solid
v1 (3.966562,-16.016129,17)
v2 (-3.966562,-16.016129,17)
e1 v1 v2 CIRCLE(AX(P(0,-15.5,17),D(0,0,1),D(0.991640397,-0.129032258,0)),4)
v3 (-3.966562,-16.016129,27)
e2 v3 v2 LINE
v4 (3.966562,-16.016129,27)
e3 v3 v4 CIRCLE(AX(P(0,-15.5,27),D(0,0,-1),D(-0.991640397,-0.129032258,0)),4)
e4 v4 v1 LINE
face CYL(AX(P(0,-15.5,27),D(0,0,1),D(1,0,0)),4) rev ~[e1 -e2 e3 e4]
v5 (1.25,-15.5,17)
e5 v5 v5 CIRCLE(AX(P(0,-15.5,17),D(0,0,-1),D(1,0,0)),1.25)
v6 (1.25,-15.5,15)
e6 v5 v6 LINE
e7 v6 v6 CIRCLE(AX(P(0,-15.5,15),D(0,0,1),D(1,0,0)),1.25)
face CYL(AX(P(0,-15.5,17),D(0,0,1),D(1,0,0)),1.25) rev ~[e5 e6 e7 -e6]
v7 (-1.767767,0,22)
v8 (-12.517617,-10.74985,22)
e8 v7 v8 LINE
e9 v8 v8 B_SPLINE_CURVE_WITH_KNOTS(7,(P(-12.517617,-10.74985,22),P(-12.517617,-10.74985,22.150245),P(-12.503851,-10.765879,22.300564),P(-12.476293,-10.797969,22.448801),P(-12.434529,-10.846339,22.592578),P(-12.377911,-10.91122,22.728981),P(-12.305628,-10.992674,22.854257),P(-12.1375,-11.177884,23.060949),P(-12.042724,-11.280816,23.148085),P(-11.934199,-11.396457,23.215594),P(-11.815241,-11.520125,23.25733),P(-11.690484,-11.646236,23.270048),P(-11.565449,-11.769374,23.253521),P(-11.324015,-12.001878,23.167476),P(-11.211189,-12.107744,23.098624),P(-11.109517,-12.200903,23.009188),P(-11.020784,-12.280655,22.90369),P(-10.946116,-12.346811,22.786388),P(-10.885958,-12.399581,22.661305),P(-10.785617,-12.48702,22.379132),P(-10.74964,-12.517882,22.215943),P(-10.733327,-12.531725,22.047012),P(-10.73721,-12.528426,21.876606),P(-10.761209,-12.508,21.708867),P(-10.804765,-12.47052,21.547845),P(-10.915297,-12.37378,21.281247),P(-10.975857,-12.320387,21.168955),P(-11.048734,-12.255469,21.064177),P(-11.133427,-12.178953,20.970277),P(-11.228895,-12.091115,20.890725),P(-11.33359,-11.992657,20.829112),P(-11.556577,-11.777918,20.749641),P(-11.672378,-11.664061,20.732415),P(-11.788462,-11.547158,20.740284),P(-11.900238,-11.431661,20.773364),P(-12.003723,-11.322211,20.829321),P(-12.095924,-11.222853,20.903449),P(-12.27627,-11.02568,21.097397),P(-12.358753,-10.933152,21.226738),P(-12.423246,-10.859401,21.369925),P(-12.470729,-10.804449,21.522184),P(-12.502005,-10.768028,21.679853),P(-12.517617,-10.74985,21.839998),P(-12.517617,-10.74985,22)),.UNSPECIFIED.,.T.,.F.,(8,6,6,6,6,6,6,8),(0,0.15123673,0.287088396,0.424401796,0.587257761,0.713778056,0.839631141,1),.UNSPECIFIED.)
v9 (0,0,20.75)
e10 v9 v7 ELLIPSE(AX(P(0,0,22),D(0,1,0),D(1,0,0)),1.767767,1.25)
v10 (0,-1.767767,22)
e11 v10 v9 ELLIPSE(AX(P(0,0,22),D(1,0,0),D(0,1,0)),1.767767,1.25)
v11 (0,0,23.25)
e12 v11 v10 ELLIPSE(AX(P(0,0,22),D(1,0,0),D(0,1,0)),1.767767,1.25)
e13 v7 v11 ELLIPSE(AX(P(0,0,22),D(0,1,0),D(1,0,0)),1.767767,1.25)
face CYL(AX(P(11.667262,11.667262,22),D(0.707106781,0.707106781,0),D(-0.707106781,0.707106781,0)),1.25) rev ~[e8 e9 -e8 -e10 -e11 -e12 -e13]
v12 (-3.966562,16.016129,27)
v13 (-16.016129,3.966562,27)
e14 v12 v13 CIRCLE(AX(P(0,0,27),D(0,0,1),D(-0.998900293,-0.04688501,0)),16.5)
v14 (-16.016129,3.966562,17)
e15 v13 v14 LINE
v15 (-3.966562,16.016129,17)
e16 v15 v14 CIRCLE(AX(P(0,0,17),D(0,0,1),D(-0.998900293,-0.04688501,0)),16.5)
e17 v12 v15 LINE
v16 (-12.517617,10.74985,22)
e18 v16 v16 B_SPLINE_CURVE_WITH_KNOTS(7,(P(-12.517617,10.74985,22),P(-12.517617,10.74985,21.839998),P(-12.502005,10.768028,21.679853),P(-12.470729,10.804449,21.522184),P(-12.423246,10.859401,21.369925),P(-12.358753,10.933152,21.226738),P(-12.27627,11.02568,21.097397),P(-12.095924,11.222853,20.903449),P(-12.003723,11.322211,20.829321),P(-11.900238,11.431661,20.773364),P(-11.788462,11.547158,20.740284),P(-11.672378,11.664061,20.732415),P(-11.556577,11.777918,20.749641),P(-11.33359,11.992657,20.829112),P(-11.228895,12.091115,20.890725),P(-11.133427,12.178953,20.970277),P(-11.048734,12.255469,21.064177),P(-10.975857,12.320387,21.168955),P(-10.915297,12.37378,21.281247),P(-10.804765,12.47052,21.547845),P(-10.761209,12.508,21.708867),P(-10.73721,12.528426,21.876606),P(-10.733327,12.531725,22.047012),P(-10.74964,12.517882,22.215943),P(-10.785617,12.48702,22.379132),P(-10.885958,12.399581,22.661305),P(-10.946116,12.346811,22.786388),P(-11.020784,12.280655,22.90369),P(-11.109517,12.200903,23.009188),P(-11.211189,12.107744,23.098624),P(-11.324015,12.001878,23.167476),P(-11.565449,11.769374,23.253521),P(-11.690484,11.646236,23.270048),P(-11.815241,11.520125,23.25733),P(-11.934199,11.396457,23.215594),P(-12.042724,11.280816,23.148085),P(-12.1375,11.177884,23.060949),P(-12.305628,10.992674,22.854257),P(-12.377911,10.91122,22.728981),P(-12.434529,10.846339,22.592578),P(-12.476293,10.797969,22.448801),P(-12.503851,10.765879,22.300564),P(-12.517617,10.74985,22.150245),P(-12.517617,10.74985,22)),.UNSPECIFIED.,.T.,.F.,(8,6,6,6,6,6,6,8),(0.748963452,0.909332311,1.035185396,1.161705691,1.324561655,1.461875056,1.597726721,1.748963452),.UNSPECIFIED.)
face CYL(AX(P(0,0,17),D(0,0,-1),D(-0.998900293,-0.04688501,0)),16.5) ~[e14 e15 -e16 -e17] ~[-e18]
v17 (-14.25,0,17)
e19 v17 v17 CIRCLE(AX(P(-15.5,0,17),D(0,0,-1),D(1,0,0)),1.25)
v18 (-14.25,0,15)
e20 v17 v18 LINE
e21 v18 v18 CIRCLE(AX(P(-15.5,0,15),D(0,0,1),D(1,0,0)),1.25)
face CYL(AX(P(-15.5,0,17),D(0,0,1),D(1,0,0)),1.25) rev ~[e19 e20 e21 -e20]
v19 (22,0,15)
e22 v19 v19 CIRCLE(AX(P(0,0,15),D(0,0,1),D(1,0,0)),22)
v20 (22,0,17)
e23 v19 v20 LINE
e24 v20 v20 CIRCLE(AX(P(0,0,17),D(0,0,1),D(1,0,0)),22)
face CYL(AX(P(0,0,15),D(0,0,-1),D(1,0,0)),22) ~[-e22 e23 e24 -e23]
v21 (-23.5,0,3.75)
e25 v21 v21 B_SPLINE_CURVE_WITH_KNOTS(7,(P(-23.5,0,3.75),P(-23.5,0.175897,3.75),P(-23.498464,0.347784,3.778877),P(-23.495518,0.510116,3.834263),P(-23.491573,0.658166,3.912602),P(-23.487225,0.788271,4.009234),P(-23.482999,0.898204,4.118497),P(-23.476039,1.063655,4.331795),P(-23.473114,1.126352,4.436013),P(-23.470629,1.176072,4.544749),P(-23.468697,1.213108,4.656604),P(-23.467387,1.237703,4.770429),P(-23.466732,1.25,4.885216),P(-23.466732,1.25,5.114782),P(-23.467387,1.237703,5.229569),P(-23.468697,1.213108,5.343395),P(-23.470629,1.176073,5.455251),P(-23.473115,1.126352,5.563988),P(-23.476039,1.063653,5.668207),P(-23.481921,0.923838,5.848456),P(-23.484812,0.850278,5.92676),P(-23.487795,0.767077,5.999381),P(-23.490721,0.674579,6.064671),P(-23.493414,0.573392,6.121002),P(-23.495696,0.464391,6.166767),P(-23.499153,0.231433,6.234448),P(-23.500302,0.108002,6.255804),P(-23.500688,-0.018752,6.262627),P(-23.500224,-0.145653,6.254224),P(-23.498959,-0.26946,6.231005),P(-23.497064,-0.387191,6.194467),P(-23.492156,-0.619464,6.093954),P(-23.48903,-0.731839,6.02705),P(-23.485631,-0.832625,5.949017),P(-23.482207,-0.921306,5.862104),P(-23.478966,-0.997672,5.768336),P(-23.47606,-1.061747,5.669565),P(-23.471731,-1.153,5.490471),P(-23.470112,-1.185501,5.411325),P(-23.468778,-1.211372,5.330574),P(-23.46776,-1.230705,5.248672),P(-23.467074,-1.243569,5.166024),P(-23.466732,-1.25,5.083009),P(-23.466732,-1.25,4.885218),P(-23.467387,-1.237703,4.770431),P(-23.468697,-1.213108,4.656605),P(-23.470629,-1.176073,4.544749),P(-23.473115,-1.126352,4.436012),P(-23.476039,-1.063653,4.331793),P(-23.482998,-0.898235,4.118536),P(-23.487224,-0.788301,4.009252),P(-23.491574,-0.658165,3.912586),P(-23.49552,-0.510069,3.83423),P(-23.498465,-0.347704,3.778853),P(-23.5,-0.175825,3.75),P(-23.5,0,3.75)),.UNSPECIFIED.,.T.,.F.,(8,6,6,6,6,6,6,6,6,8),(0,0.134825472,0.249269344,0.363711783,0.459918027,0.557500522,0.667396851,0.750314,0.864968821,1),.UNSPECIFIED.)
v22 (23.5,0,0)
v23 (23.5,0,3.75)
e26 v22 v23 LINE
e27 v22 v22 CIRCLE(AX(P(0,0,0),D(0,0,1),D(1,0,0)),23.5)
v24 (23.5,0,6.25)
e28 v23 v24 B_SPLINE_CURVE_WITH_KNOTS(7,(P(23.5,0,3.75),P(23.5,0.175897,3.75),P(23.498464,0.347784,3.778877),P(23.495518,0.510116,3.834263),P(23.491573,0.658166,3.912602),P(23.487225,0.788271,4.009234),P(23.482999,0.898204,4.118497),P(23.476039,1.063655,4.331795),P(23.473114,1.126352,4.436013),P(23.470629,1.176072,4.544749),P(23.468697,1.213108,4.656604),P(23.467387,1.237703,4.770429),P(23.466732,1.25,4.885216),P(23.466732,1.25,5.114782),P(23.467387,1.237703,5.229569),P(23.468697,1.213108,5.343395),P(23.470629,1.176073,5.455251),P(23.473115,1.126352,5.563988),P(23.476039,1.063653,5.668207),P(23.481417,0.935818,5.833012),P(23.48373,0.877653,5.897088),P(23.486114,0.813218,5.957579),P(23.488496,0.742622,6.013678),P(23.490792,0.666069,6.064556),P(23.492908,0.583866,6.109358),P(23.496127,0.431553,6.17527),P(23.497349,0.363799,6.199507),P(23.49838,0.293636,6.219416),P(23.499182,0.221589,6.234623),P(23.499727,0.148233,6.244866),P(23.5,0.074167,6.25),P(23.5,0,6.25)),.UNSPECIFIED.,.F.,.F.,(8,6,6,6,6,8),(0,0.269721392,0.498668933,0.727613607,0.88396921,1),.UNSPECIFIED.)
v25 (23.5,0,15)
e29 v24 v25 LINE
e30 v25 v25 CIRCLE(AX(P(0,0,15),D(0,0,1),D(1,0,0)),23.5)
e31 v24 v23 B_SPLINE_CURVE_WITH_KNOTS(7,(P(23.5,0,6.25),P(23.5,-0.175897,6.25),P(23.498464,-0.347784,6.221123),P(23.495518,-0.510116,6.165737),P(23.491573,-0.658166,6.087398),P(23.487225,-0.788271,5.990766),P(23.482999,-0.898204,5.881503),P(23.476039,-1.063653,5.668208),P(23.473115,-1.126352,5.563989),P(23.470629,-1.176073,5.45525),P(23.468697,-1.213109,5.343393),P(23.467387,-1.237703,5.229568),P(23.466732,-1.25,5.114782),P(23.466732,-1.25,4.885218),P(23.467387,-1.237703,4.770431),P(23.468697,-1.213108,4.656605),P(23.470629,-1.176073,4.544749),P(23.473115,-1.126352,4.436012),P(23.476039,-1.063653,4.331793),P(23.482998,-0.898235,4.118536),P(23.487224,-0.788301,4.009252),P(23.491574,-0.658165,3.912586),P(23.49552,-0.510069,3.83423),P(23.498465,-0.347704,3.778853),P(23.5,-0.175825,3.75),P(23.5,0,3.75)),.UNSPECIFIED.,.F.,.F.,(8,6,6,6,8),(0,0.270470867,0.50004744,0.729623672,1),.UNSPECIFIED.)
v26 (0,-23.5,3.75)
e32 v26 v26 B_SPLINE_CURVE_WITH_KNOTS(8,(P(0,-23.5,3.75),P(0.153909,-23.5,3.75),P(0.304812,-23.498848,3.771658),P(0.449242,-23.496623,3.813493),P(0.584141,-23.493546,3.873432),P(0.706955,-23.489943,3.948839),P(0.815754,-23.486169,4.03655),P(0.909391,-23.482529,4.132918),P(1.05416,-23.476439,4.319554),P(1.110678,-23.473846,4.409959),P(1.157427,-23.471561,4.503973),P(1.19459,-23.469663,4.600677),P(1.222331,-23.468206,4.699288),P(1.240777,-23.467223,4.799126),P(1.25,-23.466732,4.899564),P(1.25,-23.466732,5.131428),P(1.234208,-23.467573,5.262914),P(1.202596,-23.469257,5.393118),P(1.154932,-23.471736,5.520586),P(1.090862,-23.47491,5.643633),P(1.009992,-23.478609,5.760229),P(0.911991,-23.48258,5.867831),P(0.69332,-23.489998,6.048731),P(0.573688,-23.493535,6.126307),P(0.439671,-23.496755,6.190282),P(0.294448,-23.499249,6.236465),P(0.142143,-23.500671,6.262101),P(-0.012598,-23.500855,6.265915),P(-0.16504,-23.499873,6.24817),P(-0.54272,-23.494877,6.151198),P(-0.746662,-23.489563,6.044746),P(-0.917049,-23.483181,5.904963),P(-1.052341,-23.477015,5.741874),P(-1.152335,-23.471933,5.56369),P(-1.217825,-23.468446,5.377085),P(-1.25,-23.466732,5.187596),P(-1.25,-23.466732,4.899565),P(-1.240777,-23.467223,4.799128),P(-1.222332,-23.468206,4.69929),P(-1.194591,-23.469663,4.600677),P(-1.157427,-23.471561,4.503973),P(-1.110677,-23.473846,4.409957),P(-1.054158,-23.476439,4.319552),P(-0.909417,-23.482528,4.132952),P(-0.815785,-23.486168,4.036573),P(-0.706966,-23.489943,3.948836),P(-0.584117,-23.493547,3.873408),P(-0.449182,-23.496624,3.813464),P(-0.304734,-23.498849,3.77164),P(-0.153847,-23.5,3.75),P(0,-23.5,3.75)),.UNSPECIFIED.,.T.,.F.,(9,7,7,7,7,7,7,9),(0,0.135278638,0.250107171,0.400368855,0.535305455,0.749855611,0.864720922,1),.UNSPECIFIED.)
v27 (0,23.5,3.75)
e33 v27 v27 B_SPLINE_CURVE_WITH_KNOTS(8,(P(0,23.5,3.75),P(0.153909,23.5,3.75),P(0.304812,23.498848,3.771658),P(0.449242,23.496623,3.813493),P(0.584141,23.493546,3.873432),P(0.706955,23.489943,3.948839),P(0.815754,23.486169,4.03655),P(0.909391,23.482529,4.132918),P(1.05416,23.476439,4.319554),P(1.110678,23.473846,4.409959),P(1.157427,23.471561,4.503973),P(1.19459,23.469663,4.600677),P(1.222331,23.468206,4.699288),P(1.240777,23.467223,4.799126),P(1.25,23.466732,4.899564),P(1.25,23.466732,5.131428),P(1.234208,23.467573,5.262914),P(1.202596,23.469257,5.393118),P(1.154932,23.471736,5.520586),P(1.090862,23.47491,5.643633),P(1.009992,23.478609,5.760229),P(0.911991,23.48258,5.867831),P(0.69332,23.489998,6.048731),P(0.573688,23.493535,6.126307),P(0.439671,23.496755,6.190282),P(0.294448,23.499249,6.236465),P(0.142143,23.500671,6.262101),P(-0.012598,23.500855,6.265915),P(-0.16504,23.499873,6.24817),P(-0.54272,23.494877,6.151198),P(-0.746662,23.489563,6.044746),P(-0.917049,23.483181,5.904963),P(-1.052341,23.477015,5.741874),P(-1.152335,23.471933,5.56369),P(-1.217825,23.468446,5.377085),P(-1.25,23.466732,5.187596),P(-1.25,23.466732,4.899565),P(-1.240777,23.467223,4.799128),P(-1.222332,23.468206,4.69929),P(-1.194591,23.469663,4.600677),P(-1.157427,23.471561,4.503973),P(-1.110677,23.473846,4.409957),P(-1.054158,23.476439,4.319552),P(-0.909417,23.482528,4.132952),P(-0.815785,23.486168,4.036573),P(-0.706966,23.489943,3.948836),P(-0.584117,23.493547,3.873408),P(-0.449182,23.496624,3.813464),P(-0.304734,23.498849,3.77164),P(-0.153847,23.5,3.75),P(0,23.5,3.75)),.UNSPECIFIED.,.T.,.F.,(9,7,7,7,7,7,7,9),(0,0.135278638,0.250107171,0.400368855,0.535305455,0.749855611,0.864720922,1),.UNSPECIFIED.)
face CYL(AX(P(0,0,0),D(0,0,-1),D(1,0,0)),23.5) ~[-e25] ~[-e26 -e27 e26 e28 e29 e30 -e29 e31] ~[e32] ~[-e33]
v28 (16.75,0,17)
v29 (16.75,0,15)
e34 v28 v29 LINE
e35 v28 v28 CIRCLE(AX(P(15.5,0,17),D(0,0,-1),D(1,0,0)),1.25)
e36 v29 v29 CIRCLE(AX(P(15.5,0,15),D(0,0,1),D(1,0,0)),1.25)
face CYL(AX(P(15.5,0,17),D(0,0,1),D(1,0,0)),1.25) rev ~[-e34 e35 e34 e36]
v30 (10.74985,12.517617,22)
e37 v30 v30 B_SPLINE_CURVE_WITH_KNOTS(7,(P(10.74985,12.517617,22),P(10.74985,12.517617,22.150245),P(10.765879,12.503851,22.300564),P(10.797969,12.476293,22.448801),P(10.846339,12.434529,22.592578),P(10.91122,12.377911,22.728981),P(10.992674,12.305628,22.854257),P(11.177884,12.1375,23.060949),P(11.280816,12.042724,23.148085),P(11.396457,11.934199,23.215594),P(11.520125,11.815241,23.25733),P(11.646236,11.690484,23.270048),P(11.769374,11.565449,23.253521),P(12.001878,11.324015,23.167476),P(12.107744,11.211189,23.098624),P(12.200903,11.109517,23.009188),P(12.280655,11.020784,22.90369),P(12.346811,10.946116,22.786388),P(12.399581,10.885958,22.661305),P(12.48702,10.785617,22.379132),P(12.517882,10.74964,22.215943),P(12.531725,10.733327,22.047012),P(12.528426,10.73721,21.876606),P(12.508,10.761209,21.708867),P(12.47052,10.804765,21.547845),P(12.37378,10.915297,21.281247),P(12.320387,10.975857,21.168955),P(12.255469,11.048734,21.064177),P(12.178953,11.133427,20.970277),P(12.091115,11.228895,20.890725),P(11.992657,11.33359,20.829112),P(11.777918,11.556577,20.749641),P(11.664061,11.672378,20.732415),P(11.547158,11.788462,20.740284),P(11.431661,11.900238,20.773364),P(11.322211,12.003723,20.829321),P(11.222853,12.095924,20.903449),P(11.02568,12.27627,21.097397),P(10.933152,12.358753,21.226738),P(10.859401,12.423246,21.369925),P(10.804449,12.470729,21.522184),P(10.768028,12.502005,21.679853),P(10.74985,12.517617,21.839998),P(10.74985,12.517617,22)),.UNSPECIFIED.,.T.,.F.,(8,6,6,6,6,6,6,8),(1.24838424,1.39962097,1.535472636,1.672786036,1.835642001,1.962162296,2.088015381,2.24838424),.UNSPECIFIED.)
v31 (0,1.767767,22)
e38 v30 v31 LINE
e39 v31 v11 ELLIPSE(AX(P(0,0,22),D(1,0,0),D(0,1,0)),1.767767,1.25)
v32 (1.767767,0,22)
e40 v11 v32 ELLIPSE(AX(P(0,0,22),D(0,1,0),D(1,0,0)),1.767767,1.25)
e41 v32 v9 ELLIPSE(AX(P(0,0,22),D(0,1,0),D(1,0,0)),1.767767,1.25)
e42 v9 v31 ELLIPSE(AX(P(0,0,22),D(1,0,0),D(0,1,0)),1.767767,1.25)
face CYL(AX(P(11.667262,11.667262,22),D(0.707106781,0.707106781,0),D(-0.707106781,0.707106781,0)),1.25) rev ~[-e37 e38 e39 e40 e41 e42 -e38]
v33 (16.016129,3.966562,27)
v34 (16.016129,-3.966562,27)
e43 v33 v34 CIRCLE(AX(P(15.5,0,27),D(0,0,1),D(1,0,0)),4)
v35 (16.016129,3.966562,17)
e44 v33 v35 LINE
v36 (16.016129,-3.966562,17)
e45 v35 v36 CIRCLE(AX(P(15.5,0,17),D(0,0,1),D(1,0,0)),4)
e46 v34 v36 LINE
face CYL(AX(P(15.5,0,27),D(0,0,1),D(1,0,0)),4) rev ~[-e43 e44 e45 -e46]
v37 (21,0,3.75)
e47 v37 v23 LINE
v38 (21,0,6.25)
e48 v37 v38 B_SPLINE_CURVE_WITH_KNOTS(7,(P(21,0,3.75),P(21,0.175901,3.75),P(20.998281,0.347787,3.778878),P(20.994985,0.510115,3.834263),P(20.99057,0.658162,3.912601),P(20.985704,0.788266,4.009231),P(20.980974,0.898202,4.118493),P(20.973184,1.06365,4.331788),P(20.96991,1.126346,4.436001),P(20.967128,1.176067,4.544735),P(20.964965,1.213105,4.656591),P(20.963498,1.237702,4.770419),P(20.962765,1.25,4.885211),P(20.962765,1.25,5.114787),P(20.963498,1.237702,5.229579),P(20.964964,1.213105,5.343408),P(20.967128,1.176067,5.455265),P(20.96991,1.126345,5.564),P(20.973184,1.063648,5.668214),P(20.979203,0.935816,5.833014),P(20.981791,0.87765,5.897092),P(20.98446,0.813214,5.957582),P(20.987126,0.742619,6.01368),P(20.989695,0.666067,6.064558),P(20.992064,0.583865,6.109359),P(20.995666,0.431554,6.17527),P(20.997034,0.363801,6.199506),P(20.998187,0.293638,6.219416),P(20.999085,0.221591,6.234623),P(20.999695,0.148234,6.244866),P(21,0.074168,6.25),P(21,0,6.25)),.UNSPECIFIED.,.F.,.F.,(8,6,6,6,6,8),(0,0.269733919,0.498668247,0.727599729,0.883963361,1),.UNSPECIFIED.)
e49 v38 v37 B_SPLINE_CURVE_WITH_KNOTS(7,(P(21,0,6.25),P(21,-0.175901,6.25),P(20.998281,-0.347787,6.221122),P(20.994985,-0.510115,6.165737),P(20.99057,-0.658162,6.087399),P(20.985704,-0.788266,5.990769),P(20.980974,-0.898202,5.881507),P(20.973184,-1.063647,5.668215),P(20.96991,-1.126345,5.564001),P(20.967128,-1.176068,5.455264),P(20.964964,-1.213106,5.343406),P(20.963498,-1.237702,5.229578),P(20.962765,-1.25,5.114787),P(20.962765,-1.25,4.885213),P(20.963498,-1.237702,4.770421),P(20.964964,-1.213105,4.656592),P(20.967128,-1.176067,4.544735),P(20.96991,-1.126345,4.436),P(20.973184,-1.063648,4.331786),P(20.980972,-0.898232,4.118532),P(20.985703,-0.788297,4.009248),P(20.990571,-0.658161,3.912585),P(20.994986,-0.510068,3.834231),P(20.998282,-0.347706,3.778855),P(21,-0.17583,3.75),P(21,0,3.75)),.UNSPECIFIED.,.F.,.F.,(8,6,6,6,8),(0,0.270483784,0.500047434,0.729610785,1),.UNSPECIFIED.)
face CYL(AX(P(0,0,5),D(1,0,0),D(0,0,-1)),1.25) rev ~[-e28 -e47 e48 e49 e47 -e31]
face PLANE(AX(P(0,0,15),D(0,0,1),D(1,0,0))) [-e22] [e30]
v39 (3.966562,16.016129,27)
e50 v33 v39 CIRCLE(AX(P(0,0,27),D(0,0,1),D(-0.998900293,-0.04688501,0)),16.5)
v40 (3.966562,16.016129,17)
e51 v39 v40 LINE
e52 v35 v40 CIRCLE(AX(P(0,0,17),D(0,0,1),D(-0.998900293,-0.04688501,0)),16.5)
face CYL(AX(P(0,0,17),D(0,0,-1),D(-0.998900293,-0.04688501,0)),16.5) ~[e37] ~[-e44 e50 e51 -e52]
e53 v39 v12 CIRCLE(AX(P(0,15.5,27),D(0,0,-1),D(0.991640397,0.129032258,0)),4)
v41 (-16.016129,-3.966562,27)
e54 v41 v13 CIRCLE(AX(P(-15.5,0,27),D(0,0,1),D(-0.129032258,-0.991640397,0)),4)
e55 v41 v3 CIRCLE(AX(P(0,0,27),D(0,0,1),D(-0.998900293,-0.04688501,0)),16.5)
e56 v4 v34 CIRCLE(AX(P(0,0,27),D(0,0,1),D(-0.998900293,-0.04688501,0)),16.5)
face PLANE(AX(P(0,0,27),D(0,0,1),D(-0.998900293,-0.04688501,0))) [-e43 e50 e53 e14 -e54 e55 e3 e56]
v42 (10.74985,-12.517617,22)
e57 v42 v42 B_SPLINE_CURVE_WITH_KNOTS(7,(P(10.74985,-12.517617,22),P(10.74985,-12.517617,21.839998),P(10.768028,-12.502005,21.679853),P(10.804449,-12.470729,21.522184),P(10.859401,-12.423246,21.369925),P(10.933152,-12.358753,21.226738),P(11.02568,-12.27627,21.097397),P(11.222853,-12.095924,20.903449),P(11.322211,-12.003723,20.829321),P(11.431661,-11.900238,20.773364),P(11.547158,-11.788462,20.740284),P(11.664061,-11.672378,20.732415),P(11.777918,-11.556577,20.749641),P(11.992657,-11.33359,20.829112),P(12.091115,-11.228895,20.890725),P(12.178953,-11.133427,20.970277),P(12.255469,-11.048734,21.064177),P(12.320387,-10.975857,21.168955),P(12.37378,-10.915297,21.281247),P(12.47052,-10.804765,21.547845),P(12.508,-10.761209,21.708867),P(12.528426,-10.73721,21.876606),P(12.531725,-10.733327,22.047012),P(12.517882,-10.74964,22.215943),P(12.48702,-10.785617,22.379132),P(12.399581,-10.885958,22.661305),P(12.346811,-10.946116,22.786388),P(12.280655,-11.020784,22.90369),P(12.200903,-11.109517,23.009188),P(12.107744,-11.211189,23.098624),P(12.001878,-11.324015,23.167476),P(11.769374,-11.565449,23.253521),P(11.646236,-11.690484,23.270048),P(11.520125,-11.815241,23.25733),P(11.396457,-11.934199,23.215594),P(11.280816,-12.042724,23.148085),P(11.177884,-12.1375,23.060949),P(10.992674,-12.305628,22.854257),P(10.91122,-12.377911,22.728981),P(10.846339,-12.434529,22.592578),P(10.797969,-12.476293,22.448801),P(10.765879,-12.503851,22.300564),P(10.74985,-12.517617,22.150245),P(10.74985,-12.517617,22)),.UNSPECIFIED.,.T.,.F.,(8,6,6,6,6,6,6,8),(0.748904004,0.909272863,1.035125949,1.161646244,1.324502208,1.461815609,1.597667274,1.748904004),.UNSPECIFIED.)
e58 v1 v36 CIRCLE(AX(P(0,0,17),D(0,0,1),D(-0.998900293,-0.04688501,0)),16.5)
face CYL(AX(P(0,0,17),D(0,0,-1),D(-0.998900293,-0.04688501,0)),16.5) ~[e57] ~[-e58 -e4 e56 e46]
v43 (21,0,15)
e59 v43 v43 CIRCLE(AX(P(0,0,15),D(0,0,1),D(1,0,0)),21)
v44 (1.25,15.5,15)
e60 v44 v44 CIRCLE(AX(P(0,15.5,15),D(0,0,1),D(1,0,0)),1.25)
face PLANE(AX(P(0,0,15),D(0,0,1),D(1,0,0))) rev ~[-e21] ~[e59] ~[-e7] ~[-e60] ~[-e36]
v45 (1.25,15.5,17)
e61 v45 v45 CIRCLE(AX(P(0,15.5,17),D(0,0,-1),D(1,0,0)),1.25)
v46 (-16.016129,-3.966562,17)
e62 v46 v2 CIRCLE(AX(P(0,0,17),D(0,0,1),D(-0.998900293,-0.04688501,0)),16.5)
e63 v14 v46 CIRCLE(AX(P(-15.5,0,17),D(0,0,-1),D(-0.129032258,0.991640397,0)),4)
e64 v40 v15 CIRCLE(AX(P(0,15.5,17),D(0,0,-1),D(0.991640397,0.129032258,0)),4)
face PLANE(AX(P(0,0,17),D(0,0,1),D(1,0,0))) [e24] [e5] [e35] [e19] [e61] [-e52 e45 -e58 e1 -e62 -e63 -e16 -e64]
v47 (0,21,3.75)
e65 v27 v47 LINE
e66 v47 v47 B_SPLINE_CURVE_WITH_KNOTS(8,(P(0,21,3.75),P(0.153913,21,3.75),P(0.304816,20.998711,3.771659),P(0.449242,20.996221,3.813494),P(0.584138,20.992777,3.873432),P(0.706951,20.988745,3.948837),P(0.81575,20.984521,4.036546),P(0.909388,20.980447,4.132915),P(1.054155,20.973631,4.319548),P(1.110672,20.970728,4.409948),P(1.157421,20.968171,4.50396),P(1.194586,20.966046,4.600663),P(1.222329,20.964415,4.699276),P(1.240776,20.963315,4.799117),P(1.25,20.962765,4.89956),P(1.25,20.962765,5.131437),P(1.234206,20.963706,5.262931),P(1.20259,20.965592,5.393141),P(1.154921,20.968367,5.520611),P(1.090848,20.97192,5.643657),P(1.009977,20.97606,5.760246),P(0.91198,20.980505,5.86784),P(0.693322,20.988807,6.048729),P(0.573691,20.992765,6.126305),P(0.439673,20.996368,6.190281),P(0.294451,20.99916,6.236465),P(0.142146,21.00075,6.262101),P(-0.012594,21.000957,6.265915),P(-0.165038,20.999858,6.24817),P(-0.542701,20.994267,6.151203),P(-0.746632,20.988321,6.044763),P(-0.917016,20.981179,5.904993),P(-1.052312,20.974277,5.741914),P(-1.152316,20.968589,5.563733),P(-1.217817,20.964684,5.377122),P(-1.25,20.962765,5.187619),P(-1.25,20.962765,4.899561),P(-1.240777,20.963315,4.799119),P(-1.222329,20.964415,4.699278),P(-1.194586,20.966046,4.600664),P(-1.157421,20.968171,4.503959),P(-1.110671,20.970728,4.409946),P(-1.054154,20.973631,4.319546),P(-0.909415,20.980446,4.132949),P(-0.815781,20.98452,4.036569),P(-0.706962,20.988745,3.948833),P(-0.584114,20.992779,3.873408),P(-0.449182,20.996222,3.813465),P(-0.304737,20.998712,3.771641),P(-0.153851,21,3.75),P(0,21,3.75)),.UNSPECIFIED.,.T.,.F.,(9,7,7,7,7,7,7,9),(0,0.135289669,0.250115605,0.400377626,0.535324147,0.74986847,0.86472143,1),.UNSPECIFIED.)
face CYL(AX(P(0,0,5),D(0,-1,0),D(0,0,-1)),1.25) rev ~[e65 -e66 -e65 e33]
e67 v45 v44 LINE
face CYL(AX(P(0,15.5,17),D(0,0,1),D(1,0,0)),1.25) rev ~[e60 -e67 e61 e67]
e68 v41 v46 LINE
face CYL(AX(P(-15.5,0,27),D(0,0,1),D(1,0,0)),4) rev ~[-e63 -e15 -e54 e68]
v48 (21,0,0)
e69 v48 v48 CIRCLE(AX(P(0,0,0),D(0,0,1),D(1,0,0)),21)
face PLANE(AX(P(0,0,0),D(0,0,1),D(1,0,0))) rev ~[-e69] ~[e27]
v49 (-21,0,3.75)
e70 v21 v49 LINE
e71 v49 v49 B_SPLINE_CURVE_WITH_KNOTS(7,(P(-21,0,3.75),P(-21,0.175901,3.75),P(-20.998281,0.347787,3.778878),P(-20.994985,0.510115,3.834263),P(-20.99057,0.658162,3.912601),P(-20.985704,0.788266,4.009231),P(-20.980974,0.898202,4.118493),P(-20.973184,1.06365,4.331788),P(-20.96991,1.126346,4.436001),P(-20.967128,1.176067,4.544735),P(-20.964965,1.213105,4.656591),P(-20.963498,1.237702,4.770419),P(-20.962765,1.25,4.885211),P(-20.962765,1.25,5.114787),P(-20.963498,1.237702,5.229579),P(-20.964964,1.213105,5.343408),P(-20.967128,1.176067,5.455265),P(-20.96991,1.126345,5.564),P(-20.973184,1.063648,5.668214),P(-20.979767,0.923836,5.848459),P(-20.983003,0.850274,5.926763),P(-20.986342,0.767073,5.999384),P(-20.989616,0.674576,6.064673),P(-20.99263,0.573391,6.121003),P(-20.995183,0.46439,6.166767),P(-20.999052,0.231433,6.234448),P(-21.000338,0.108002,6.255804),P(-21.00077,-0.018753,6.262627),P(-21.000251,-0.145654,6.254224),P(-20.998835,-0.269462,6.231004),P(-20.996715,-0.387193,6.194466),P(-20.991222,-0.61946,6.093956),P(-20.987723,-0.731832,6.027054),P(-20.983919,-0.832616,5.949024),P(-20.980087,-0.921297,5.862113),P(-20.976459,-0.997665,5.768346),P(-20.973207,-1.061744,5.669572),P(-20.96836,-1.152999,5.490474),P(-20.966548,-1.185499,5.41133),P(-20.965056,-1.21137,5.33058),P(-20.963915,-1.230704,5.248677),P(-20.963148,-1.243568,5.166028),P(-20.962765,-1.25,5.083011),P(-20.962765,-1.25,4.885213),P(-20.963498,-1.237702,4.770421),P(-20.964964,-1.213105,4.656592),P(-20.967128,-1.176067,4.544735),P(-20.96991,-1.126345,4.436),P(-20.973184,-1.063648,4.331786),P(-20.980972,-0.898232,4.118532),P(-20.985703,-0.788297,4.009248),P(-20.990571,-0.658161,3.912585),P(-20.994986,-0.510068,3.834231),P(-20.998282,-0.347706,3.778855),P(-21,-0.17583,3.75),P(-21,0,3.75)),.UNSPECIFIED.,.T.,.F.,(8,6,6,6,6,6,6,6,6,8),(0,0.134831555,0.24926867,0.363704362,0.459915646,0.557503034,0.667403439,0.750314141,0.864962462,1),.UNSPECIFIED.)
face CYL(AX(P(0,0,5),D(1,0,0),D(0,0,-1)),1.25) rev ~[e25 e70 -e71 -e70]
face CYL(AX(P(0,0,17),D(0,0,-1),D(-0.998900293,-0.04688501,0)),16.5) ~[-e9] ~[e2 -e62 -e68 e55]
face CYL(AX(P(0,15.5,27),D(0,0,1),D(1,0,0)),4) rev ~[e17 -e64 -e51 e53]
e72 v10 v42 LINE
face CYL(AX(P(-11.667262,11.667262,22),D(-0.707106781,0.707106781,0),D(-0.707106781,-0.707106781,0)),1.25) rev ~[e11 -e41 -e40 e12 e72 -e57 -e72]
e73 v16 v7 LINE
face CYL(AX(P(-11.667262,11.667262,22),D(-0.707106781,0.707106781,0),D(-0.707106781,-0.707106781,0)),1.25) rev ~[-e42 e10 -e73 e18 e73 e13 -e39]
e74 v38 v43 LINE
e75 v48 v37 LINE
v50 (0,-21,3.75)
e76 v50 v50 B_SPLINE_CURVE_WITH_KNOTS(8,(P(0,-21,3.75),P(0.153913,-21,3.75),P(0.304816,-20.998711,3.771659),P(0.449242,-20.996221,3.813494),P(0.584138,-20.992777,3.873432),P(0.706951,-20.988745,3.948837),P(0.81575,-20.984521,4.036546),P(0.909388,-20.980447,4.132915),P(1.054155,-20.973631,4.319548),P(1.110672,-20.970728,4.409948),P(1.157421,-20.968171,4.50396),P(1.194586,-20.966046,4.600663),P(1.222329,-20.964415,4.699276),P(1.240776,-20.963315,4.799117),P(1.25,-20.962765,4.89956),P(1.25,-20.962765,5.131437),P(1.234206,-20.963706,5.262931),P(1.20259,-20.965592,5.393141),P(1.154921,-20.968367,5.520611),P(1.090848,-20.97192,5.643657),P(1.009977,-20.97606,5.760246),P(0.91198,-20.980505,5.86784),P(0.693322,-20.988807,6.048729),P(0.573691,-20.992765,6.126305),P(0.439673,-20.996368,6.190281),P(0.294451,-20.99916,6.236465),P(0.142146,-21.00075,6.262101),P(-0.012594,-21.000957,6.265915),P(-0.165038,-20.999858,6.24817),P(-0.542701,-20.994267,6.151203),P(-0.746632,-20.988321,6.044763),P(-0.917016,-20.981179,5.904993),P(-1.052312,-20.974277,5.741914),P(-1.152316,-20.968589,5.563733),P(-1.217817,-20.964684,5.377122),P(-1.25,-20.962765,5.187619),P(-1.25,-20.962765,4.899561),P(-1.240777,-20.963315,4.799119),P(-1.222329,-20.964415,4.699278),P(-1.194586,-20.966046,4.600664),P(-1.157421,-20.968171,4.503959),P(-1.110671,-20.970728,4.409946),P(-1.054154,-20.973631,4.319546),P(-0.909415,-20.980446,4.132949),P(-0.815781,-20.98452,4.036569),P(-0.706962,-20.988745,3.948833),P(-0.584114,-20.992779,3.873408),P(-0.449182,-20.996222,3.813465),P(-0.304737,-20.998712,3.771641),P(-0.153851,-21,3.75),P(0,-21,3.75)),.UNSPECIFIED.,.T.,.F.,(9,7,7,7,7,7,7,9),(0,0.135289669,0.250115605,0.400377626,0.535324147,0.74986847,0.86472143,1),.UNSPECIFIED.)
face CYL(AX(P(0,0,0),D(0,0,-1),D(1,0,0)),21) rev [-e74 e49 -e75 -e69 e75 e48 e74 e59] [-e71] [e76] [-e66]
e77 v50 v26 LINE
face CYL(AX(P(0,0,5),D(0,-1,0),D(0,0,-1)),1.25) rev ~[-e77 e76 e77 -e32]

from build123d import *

# Parameters (mm, degrees)
SKETCH_1_R               = 23.5
SKETCH_1_R_2             = 21
EXTRUDE_1_DEPTH          = 15
SKETCH_2_R               = 1.25
CUT_EXTRUDE_1_DEPTH      = 27
PATTERN_CIRCULAR_1_COUNT = 4
SKETCH_3_R               = 22
EXTRUDE_2_DEPTH          = 2
SKETCH_4_R               = 1.25
CUT_EXTRUDE_2_DEPTH      = 2
SKETCH_5_R               = 16.5
EXTRUDE_4_DEPTH          = 10
SKETCH_6_R               = 4
CUT_EXTRUDE_5_DEPTH      = 10
SKETCH_8_R               = 1.25
CUT_EXTRUDE_6_DEPTH      = 43
PATTERN_CIRCULAR_2_COUNT = 4


with BuildPart() as part:
    # 草图1 → 凸台-拉伸1 (new body)
    with BuildSketch(Plane.XY):
        Circle(SKETCH_1_R)
        Circle(SKETCH_1_R_2, mode=Mode.SUBTRACT)
    extrude(amount=EXTRUDE_1_DEPTH)

    # 草图2 → 切除-拉伸1 (cut, symmetric)
    with BuildSketch(Plane(origin=(0, 0, 0), x_dir=(0, 0, -1), z_dir=(1, 0, 0))):
        with Locations((-5, 0)):
            Circle(SKETCH_2_R)
    cut_extrude_1 = extrude(amount=CUT_EXTRUDE_1_DEPTH, both=True, mode=Mode.SUBTRACT)

    # 阵列(圆周)1: 切除-拉伸1 ×4 about axis
    pattern_circular_1_axis = Axis((0, 0, 15), (0, 0, -1))
    for i in range(1, PATTERN_CIRCULAR_1_COUNT):
        add(cut_extrude_1.rotate(pattern_circular_1_axis, i * 360 / PATTERN_CIRCULAR_1_COUNT), mode=Mode.SUBTRACT)

    # 草图3 → 凸台-拉伸2 (add)
    with BuildSketch(Plane.XY.offset(15)):
        Circle(SKETCH_3_R)
    extrude(amount=EXTRUDE_2_DEPTH)

    # 草图4 → 切除-拉伸2 (cut)
    with BuildSketch(Plane.XY.offset(17)):
        with Locations((15.5, 0)):
            Circle(SKETCH_4_R)
        with Locations((0, -15.5)):
            Circle(SKETCH_4_R)
        with Locations((-15.5, 0)):
            Circle(SKETCH_4_R)
        with Locations((0, 15.5)):
            Circle(SKETCH_4_R)
    extrude(amount=-CUT_EXTRUDE_2_DEPTH, mode=Mode.SUBTRACT)

    # 草图5 → 凸台-拉伸4 (add)
    with BuildSketch(Plane.XY.offset(17)):
        with Locations(Location((0, 0, 0), (0, 0, 182.687298331))):
            Circle(SKETCH_5_R)
    extrude(amount=EXTRUDE_4_DEPTH)

    # 草图6 → 切除-拉伸5 (cut)
    with BuildSketch(Plane.XY.offset(27)):
        with Locations((0, -15.5)):
            Circle(SKETCH_6_R)
        with Locations((-15.5, 0)):
            Circle(SKETCH_6_R)
        with Locations((0, 15.5)):
            Circle(SKETCH_6_R)
        with Locations((15.5, 0)):
            Circle(SKETCH_6_R)
    extrude(amount=-CUT_EXTRUDE_5_DEPTH, mode=Mode.SUBTRACT)

    # 草图8 → 切除-拉伸6 (cut)
    with BuildSketch(Plane(origin=(11.66726189, 11.66726189, 0), x_dir=(0, 0, -1), z_dir=(0.7071067811865561, 0.7071067811865389, 0))):
        with Locations(Location((-22, 0, 0), (0, 0, 90))):
            Circle(SKETCH_8_R)
    cut_extrude_6 = extrude(amount=-CUT_EXTRUDE_6_DEPTH, mode=Mode.SUBTRACT)

    # 阵列(圆周)2: 切除-拉伸6 ×4 about axis
    pattern_circular_2_axis = Axis((0, 0, 27), (0, 0, 1))
    for i in range(1, PATTERN_CIRCULAR_2_COUNT):
        add(cut_extrude_6.rotate(pattern_circular_2_axis, i * 360 / PATTERN_CIRCULAR_2_COUNT), mode=Mode.SUBTRACT)


solid = part.part
